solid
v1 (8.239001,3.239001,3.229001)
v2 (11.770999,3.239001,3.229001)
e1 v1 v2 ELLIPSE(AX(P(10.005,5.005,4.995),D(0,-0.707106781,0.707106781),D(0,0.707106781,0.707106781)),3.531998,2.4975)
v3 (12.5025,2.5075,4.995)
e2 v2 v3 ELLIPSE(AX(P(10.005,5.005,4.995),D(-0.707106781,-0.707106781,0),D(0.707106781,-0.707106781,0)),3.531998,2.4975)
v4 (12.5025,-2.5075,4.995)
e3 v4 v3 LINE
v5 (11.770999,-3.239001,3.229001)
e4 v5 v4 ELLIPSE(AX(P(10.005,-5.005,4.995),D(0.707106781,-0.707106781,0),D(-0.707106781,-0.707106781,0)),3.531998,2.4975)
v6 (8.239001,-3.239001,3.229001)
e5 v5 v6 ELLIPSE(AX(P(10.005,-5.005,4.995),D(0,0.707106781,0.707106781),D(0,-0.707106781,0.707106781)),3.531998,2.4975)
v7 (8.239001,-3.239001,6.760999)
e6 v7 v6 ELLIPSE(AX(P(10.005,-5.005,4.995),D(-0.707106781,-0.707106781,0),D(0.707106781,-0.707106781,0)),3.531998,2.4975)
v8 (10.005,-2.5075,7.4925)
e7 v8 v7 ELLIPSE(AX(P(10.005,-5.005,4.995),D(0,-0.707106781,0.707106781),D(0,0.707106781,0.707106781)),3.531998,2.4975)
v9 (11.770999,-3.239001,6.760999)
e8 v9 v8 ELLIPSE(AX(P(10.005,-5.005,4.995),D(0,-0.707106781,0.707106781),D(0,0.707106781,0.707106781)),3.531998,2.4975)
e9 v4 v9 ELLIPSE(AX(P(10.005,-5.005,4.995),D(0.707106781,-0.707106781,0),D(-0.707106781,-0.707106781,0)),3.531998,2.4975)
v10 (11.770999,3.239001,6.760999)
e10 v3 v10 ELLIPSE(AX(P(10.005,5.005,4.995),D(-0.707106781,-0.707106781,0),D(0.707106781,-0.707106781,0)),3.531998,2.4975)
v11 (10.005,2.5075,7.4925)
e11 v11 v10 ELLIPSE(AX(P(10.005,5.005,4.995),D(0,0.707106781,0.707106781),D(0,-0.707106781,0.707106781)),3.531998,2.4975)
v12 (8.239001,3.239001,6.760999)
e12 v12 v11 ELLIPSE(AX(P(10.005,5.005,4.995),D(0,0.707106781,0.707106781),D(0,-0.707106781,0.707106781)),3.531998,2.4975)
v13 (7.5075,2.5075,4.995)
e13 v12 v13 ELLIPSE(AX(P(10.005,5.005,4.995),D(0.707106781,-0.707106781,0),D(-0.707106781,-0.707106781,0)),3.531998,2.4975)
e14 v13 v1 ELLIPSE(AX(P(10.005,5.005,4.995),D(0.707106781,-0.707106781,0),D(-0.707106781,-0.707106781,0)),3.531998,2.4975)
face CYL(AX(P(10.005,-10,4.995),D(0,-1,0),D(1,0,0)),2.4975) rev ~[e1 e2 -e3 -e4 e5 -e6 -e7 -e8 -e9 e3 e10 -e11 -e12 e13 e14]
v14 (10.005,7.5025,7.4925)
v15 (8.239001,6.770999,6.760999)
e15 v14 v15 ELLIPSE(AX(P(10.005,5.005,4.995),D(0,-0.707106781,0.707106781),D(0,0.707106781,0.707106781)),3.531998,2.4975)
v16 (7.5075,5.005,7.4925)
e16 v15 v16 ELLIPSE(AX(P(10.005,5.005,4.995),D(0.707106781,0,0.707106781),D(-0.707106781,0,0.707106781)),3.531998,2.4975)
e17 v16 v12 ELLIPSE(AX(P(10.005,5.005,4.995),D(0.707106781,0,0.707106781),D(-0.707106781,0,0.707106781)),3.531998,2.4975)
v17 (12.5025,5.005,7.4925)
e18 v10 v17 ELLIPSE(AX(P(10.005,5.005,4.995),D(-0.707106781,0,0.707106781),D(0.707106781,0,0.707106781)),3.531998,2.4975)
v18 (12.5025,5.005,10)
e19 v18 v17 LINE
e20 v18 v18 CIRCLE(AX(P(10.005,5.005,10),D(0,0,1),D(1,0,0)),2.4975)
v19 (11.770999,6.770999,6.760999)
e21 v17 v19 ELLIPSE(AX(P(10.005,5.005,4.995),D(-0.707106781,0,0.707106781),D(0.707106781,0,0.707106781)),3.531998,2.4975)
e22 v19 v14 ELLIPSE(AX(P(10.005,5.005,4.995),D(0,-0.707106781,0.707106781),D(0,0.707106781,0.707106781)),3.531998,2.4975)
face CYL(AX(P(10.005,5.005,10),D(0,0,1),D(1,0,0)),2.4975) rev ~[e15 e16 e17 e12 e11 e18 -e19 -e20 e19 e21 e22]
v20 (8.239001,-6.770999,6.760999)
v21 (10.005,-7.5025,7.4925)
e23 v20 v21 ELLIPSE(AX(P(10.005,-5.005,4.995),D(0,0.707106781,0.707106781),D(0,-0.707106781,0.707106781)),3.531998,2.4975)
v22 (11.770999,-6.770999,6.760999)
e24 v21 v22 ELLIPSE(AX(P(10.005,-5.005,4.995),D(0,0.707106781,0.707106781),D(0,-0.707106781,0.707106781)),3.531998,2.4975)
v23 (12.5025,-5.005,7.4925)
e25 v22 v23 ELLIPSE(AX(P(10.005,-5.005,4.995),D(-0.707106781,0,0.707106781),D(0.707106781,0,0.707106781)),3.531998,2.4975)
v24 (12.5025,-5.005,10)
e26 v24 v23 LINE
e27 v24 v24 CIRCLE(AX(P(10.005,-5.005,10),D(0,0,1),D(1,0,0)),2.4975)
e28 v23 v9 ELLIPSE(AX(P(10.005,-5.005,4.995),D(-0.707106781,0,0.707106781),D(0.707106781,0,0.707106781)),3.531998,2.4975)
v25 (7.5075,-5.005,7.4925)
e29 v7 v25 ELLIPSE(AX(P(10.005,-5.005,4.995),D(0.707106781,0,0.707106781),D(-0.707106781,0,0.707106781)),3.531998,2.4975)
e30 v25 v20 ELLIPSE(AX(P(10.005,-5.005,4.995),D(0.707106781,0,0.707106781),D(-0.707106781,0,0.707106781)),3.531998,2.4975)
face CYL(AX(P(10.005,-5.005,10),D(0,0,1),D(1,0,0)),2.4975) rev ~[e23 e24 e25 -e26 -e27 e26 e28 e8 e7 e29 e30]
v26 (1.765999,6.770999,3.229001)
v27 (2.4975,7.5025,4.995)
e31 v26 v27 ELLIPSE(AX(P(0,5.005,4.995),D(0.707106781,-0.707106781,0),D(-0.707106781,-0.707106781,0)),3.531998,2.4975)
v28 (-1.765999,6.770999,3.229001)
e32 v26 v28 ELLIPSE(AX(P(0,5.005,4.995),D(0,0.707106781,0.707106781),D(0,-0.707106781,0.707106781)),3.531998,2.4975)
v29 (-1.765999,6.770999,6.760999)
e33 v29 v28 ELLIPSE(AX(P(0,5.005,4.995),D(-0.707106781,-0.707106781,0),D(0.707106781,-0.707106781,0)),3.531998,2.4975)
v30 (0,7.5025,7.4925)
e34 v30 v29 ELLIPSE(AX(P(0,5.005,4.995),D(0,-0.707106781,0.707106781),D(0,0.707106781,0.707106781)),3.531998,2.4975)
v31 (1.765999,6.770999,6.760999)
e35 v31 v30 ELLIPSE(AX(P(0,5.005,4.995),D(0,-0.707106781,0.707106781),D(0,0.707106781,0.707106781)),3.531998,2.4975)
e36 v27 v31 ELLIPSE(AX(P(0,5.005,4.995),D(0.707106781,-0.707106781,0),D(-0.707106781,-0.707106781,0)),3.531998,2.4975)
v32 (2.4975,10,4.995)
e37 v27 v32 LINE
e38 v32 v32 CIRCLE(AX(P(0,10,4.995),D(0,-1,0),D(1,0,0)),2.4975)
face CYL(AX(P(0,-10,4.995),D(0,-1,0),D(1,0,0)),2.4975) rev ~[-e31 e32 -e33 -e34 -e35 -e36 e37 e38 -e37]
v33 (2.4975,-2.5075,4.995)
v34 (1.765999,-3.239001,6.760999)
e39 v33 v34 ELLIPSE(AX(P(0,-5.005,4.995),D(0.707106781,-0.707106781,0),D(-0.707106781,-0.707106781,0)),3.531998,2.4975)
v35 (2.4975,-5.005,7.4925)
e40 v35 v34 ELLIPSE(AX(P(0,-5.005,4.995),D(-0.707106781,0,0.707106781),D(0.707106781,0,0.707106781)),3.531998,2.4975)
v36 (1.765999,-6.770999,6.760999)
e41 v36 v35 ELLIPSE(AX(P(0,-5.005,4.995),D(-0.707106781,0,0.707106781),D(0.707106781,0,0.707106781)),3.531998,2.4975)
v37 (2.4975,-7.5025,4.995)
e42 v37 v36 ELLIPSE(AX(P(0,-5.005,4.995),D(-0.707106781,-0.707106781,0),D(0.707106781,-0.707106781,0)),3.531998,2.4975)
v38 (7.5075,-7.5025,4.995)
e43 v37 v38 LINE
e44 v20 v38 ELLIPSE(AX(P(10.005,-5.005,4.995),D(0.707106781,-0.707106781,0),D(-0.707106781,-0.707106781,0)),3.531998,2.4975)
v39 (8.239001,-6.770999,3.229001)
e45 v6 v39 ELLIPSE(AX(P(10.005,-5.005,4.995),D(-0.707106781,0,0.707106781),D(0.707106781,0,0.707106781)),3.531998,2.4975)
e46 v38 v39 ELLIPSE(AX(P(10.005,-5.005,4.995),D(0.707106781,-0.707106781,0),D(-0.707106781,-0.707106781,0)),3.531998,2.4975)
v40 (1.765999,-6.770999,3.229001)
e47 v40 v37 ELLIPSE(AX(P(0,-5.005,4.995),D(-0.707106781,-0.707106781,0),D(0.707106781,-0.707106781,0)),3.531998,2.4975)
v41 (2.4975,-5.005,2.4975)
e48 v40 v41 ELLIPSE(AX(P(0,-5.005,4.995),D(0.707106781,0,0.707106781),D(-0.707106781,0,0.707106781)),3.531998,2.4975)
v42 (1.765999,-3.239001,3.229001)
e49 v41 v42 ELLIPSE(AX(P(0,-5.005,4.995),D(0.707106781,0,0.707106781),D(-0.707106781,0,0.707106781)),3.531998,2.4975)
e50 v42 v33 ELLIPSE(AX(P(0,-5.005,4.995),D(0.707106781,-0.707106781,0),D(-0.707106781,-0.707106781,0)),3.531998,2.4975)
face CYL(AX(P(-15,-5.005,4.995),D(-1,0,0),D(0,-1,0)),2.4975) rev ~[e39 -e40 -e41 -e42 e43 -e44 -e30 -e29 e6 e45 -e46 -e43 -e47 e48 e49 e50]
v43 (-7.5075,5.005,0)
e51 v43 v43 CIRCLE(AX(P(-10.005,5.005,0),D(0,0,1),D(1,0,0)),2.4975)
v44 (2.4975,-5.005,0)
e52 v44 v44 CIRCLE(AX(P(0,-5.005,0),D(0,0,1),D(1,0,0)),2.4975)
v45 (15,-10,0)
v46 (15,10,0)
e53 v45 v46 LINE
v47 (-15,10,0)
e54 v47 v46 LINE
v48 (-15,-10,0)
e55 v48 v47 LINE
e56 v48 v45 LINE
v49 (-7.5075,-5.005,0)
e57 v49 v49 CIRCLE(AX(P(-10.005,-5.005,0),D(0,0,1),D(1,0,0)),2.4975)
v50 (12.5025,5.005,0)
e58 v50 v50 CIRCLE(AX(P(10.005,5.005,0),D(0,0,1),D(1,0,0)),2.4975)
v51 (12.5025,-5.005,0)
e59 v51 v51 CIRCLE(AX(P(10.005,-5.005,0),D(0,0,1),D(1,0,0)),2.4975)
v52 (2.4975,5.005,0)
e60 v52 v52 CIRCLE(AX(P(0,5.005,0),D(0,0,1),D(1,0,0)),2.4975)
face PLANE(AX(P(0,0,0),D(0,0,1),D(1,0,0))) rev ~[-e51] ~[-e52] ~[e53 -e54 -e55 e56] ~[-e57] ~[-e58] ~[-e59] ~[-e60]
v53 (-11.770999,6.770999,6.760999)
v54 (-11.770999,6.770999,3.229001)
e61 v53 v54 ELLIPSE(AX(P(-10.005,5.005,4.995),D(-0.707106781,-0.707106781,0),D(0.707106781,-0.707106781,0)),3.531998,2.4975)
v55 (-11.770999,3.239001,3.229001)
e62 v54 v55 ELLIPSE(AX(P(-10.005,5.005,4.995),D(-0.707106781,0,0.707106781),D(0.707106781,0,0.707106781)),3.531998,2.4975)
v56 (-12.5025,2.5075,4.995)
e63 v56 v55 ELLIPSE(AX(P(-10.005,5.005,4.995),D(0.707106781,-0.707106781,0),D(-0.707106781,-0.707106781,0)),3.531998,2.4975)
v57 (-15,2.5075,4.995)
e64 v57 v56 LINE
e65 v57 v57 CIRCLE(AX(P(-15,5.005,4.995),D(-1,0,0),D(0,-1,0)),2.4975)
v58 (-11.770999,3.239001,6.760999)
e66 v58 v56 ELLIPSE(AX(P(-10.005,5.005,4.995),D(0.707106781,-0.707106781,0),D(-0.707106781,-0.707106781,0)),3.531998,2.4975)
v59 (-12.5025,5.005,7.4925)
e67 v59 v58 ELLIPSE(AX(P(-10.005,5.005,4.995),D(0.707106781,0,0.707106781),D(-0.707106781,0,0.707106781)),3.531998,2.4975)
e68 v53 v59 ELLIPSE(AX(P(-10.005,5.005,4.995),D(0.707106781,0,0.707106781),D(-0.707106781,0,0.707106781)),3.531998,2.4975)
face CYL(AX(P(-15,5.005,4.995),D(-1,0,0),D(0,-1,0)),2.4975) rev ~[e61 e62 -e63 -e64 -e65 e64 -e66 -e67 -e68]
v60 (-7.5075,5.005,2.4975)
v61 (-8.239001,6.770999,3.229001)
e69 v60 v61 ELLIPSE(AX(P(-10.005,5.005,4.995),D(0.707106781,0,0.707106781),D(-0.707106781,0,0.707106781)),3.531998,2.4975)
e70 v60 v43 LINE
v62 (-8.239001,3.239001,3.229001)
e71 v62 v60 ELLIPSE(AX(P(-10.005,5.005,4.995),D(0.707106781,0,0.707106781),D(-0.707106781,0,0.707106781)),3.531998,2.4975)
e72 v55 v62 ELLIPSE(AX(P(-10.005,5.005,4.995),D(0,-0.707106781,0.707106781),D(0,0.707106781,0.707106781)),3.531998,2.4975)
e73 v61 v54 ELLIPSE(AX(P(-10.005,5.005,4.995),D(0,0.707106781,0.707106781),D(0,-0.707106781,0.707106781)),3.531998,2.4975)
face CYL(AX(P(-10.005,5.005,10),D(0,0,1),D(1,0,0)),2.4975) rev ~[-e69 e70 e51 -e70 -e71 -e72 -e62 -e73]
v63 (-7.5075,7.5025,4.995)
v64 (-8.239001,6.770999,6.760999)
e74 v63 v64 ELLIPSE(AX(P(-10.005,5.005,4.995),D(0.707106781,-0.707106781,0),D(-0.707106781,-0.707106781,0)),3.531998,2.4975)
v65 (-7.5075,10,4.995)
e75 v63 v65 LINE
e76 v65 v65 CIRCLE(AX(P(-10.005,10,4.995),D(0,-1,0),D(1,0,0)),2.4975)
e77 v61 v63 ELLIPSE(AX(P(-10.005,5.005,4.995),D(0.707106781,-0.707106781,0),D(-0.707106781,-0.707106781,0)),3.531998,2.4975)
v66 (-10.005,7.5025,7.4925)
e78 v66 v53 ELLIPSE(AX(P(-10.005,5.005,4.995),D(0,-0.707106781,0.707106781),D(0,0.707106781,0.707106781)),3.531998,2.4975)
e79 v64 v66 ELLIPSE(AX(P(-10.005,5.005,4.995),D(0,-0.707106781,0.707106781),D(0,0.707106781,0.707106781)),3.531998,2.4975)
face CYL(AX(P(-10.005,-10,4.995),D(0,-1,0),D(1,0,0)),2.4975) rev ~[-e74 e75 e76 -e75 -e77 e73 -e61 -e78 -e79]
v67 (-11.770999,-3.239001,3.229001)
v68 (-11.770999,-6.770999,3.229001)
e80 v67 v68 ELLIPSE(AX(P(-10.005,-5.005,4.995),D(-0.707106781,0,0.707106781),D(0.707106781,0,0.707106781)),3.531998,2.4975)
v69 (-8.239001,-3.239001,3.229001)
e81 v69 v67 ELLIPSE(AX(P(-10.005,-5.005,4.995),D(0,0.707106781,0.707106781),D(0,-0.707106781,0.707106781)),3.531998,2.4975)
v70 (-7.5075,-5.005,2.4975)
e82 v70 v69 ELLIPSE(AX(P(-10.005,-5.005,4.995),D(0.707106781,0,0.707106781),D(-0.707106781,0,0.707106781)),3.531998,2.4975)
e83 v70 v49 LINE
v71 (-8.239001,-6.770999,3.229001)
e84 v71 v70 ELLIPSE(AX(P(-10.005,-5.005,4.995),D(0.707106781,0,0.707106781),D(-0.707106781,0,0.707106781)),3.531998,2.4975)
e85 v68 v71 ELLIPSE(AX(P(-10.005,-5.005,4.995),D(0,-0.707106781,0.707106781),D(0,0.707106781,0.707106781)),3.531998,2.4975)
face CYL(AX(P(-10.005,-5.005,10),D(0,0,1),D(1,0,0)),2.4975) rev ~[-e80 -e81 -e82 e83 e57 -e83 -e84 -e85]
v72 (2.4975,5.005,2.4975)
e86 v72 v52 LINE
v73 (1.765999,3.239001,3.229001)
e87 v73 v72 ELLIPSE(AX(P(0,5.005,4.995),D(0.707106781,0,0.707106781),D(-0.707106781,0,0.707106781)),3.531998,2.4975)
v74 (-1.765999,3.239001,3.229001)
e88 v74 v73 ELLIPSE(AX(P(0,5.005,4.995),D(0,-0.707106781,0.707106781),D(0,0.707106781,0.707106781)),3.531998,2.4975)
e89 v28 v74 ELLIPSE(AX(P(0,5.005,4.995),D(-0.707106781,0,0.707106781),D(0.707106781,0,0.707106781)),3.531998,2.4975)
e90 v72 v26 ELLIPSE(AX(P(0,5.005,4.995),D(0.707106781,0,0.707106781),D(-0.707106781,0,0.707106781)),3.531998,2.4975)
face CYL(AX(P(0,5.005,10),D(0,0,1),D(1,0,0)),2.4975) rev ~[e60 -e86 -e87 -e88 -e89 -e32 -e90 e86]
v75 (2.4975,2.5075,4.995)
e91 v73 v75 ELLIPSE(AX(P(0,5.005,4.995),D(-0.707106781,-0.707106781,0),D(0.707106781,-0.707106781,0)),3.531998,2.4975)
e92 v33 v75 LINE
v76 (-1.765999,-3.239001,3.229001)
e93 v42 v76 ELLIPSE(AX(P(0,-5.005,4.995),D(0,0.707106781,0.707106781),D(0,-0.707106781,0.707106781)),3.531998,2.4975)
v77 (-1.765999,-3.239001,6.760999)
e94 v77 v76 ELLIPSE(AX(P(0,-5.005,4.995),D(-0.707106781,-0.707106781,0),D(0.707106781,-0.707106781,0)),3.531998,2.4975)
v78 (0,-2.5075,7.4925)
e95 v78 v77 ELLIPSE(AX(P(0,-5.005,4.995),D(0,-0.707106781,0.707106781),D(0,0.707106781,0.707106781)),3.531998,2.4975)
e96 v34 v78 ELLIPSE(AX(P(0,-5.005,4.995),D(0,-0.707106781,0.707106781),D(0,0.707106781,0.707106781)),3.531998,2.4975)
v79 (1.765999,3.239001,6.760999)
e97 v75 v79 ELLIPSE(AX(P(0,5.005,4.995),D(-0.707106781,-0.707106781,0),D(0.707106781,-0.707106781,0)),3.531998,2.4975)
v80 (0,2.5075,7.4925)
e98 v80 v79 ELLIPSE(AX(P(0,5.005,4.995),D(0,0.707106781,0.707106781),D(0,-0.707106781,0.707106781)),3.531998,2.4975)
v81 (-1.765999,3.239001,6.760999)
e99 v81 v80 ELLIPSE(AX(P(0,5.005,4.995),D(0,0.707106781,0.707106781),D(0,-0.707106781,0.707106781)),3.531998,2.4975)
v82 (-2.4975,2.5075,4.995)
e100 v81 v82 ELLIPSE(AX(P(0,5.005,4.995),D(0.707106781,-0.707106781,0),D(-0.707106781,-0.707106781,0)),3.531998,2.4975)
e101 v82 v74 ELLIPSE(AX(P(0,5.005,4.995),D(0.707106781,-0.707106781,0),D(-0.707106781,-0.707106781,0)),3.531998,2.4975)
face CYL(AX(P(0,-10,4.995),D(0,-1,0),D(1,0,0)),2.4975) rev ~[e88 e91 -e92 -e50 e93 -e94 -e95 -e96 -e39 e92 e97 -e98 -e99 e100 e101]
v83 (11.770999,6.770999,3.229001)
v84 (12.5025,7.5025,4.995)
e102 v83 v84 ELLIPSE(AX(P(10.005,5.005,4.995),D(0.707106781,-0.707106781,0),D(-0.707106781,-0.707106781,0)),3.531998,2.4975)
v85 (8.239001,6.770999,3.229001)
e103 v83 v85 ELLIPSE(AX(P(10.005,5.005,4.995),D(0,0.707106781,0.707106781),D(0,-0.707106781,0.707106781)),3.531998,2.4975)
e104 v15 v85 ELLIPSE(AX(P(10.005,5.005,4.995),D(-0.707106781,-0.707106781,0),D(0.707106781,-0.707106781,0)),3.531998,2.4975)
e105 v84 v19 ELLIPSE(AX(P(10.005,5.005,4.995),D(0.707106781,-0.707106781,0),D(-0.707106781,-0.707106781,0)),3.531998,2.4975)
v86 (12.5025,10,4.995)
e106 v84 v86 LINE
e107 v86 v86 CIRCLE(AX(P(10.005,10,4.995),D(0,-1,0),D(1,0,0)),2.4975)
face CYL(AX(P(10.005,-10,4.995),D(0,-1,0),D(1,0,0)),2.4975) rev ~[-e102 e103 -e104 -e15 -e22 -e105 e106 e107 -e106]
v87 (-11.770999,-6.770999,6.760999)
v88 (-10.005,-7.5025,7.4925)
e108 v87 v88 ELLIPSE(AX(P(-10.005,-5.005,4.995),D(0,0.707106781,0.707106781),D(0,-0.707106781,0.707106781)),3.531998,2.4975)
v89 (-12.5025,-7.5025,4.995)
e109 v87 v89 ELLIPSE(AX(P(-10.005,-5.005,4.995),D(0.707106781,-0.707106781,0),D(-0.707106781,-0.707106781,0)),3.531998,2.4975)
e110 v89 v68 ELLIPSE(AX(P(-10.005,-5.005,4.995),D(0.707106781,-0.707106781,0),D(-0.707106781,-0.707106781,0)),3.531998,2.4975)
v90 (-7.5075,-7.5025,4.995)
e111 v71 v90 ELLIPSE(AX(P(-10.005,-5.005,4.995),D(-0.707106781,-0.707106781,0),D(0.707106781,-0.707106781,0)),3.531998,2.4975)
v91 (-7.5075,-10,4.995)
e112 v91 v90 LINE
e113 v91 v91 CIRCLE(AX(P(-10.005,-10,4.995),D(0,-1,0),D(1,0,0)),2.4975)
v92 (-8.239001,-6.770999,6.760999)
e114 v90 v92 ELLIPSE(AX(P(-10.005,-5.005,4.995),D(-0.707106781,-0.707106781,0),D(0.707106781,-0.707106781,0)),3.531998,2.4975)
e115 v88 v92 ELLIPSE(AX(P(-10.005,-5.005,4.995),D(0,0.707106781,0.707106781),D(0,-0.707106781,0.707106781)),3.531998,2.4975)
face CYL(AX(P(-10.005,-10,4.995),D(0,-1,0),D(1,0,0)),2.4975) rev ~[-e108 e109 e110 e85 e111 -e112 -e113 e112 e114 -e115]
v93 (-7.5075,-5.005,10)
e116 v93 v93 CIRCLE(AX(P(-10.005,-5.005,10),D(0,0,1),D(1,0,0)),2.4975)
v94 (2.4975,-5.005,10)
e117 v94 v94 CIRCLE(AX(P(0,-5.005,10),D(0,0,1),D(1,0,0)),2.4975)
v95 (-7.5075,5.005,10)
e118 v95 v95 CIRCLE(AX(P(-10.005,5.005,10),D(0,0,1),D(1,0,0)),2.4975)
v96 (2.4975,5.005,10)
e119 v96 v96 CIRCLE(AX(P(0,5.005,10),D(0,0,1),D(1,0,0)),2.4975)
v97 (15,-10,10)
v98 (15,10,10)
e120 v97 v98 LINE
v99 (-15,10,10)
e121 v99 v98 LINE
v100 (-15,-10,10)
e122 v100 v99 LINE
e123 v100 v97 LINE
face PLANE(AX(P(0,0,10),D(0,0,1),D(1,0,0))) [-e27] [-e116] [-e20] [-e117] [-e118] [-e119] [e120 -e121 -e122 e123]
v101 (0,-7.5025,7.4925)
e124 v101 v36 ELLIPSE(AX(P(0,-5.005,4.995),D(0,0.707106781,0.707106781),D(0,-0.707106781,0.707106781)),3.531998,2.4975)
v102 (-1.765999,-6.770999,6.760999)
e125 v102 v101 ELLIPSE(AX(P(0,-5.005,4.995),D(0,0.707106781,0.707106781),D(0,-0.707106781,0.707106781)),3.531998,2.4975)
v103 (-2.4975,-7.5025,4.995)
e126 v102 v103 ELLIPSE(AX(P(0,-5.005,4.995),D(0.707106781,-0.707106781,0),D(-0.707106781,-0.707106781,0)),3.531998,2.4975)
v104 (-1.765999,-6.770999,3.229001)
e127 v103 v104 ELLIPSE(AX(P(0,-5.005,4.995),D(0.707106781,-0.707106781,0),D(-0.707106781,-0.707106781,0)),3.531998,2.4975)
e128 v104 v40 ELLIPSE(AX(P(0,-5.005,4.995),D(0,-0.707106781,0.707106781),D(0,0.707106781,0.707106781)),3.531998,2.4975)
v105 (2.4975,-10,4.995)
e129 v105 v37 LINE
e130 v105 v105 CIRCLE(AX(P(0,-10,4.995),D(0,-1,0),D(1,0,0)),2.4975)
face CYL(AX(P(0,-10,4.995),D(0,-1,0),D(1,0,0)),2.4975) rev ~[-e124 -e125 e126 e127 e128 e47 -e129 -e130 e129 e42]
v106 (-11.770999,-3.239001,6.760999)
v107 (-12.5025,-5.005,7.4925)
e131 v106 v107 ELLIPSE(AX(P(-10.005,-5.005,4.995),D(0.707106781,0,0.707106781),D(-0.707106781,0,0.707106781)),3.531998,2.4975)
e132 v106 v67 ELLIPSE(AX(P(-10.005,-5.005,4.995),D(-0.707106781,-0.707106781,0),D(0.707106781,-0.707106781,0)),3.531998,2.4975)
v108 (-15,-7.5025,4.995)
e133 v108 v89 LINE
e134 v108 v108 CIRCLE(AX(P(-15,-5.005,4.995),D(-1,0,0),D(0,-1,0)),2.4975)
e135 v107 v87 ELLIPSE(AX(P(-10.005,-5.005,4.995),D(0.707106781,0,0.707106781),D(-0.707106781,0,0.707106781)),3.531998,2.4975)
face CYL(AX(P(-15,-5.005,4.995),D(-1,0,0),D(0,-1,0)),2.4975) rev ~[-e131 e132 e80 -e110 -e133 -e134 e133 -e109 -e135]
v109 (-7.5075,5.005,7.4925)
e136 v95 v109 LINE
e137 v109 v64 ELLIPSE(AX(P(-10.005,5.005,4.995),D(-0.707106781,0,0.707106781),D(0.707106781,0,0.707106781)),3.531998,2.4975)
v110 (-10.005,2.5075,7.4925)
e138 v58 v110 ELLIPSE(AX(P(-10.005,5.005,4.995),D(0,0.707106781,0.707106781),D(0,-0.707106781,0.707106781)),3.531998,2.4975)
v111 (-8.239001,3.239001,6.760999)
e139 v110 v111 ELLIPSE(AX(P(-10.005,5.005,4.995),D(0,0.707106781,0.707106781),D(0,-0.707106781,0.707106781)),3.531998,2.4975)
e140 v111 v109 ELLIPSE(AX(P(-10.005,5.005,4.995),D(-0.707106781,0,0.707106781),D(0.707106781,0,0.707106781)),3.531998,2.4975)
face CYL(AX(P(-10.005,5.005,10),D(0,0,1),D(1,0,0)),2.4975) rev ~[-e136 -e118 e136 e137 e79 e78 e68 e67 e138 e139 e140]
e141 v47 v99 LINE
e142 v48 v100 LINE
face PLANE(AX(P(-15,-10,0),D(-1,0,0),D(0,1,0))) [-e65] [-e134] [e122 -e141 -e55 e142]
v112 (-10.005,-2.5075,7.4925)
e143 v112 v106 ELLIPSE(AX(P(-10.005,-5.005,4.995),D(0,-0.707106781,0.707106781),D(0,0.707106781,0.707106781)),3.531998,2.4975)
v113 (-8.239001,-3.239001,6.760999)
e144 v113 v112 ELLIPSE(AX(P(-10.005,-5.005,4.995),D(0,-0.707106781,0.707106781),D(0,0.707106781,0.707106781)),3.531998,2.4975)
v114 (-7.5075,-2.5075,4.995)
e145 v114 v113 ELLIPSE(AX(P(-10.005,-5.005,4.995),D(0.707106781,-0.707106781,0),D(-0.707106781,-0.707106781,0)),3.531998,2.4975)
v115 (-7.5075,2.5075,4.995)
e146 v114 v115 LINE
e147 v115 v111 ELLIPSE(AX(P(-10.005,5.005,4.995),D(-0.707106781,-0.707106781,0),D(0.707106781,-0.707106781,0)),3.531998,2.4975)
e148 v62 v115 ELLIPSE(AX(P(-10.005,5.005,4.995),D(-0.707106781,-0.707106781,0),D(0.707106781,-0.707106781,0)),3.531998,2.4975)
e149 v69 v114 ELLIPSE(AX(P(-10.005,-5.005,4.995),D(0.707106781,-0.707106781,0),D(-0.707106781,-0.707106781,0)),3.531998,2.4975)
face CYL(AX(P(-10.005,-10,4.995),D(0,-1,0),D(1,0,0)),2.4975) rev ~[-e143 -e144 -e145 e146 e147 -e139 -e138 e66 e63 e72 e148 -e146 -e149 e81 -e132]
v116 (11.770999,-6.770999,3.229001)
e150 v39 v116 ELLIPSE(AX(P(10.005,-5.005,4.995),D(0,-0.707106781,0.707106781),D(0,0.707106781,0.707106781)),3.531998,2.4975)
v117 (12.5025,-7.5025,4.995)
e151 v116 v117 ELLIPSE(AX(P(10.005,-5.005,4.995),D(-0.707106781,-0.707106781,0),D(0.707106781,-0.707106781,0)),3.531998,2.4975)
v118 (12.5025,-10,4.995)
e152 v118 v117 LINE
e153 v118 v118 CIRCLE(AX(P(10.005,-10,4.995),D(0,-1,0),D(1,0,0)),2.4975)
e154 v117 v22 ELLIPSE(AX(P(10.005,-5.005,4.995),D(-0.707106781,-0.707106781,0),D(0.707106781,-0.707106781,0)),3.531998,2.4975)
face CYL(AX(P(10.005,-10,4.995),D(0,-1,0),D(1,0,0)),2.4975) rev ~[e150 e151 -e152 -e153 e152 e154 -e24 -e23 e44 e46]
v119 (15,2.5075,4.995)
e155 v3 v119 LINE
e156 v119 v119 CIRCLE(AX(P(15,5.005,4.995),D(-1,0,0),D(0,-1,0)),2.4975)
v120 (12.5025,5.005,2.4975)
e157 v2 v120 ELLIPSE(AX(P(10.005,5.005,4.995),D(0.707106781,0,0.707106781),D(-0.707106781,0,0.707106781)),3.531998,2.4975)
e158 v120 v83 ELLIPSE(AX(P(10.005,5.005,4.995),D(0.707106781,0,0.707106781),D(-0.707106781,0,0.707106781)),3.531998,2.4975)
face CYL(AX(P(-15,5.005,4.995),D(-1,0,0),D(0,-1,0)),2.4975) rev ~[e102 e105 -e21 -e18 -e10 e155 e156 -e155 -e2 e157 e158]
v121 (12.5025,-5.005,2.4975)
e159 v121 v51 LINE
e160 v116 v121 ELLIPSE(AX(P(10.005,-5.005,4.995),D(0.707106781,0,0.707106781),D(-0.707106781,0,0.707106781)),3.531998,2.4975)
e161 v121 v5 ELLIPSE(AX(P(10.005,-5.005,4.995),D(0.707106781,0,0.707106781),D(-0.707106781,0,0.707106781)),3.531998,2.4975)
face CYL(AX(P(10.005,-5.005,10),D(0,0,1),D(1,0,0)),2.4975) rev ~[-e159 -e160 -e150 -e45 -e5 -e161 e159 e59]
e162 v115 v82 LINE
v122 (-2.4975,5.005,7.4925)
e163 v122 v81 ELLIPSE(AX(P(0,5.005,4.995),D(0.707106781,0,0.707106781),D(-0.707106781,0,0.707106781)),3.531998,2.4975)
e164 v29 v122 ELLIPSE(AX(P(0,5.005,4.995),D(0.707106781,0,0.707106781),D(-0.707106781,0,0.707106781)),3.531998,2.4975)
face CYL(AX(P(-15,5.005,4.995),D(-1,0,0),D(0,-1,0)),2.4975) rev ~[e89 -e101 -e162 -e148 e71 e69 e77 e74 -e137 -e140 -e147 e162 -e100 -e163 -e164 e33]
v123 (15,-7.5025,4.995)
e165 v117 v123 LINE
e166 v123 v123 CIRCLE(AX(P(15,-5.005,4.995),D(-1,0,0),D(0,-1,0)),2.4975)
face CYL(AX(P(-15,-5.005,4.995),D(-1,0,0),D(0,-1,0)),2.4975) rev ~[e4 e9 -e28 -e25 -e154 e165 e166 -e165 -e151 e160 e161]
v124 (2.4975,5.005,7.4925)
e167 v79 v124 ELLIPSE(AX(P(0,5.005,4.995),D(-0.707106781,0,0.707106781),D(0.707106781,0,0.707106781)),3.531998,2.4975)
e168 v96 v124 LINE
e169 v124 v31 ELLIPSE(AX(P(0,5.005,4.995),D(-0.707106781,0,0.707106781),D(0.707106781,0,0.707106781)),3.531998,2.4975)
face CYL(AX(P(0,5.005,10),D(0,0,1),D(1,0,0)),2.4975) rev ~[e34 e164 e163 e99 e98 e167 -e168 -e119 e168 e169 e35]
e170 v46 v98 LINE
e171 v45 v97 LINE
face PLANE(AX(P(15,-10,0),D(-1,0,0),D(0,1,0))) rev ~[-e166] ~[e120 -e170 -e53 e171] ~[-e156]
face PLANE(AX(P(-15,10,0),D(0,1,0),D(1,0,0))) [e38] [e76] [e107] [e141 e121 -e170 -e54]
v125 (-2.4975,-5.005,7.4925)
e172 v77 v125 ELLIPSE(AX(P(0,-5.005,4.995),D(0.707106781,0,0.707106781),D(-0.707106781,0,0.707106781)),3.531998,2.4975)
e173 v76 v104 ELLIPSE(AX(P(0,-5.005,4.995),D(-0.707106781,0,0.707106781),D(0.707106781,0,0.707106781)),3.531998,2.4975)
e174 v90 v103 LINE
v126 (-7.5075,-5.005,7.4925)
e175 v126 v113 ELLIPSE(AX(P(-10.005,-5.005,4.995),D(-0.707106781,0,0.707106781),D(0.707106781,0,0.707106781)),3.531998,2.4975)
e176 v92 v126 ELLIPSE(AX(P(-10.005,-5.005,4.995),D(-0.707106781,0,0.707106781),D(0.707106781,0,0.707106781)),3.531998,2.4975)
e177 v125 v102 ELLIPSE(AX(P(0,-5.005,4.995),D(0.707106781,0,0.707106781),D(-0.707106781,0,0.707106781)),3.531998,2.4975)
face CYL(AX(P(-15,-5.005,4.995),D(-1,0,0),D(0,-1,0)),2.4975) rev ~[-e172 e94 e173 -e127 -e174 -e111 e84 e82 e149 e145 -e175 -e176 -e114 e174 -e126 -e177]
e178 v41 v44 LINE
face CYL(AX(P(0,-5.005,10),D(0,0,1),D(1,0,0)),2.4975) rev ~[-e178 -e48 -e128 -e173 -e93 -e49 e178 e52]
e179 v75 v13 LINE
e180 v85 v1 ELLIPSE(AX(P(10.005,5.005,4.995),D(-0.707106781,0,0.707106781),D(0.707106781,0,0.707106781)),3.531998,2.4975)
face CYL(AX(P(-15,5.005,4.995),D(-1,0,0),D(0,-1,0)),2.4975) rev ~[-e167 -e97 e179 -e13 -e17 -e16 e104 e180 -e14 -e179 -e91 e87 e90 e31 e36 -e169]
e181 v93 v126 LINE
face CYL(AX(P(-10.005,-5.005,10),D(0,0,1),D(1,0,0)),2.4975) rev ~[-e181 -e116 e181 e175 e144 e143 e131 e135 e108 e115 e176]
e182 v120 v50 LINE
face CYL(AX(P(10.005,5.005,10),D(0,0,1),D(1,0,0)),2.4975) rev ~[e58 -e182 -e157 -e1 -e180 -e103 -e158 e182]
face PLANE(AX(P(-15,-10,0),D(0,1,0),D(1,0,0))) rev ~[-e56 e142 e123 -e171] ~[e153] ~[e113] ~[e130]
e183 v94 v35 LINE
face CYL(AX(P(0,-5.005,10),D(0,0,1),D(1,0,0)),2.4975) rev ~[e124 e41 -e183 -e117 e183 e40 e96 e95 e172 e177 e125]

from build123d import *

# Parameters (mm, degrees)
SKETCH_W                           = 30
SKETCH_H                           = 20
PAD_DEPTH                          = 10
SKETCH001_R                        = 2.4975
POCKET_DEPTH                       = 10
SKETCH001_LINEARPATTERN_2_R        = 2.4975
POCKET_LINEARPATTERN_2_DEPTH       = 10
SKETCH001_LINEARPATTERN_3_R        = 2.4975
POCKET_LINEARPATTERN_3_DEPTH       = 10
LINEARPATTERN001_COUNT             = 2
LINEARPATTERN001_PITCH             = 10.01
SKETCH002_R                        = 2.4975
POCKET001_DEPTH                    = 20
SKETCH002_LINEARPATTERN002_2_R     = 2.4975
POCKET001_LINEARPATTERN002_2_DEPTH = 20
SKETCH002_LINEARPATTERN002_3_R     = 2.4975
POCKET001_LINEARPATTERN002_3_DEPTH = 20
LINEARPATTERN003_COUNT             = 1
LINEARPATTERN003_PITCH             = 0
SKETCH003_R                        = 2.4975
POCKET002_DEPTH                    = 30
SKETCH003_LINEARPATTERN004_2_R     = 2.4975
POCKET002_LINEARPATTERN004_2_DEPTH = 30
LINEARPATTERN005_COUNT             = 1
LINEARPATTERN005_PITCH             = 0


with BuildPart() as part:
    # Sketch → Pad (new body)
    with BuildSketch(Plane.XY):
        Rectangle(SKETCH_W, SKETCH_H)
    extrude(amount=PAD_DEPTH)

    # Sketch001 (on Face6 of Pad) → Pocket (cut)
    with BuildSketch(Plane.XY.offset(10)):
        with Locations((-10.005, -5.005)):
            Circle(SKETCH001_R)
    pocket = extrude(amount=-POCKET_DEPTH, mode=Mode.SUBTRACT)

    # Sketch001 LinearPattern 2 → Pocket LinearPattern 2 (cut)
    with BuildSketch(Plane(origin=(10.005, 0, 10), x_dir=(1, 0, 0), z_dir=(0, 0, 1))):
        with Locations((-10.005, -5.005)):
            Circle(SKETCH001_LINEARPATTERN_2_R)
    pocket_linearpattern_2 = extrude(amount=-POCKET_LINEARPATTERN_2_DEPTH, mode=Mode.SUBTRACT)

    # Sketch001 LinearPattern 3 → Pocket LinearPattern 3 (cut)
    with BuildSketch(Plane(origin=(20.01, 0, 10), x_dir=(1, 0, 0), z_dir=(0, 0, 1))):
        with Locations((-10.005, -5.005)):
            Circle(SKETCH001_LINEARPATTERN_3_R)
    pocket_linearpattern_3 = extrude(amount=-POCKET_LINEARPATTERN_3_DEPTH, mode=Mode.SUBTRACT)

    # LinearPattern001: Pocket, Pocket LinearPattern 2, Pocket LinearPattern 3 ×2
    with Locations(*[(0, i * LINEARPATTERN001_PITCH, 0) for i in range(1, LINEARPATTERN001_COUNT)]):
        add(pocket, mode=Mode.SUBTRACT)
        add(pocket_linearpattern_2, mode=Mode.SUBTRACT)
        add(pocket_linearpattern_3, mode=Mode.SUBTRACT)

    # Sketch002 (on Face6 of MultiTransform) → Pocket001 (cut)
    with BuildSketch(Plane.XZ.offset(10)):
        with Locations((-10.005, 4.995)):
            Circle(SKETCH002_R)
    pocket001 = extrude(amount=-POCKET001_DEPTH, mode=Mode.SUBTRACT)

    # Sketch002 LinearPattern002 2 → Pocket001 LinearPattern002 2 (cut)
    with BuildSketch(Plane(origin=(10.005, -10, 0), x_dir=(1, 0, 0), z_dir=(0, -1, 0))):
        with Locations((-10.005, 4.995)):
            Circle(SKETCH002_LINEARPATTERN002_2_R)
    pocket001_linearpattern002_2 = extrude(amount=-POCKET001_LINEARPATTERN002_2_DEPTH, mode=Mode.SUBTRACT)

    # Sketch002 LinearPattern002 3 → Pocket001 LinearPattern002 3 (cut)
    with BuildSketch(Plane(origin=(20.01, -10, 0), x_dir=(1, 0, 0), z_dir=(0, -1, 0))):
        with Locations((-10.005, 4.995)):
            Circle(SKETCH002_LINEARPATTERN002_3_R)
    pocket001_linearpattern002_3 = extrude(amount=-POCKET001_LINEARPATTERN002_3_DEPTH, mode=Mode.SUBTRACT)

    # LinearPattern003: Pocket001, Pocket001 LinearPattern002 2, Pocket001 LinearPattern002 3 ×1
    with Locations(*[(0, 0, i * LINEARPATTERN003_PITCH) for i in range(1, LINEARPATTERN003_COUNT)]):
        add(pocket001, mode=Mode.SUBTRACT)
        add(pocket001_linearpattern002_2, mode=Mode.SUBTRACT)
        add(pocket001_linearpattern002_3, mode=Mode.SUBTRACT)

    # Sketch003 (on Face2 of MultiTransform001) → Pocket002 (cut)
    with BuildSketch(Plane(origin=(-15, 0, 0), x_dir=(0, -1, 0), z_dir=(-1, 0, 0))):
        with Locations((-5.005, 4.995)):
            Circle(SKETCH003_R)
    pocket002 = extrude(amount=-POCKET002_DEPTH, mode=Mode.SUBTRACT)

    # Sketch003 LinearPattern004 2 → Pocket002 LinearPattern004 2 (cut)
    with BuildSketch(Plane(origin=(-15, -10.01, 0), x_dir=(0, -1, 0), z_dir=(-1, 0, 0))):
        with Locations((-5.005, 4.995)):
            Circle(SKETCH003_LINEARPATTERN004_2_R)
    pocket002_linearpattern004_2 = extrude(amount=-POCKET002_LINEARPATTERN004_2_DEPTH, mode=Mode.SUBTRACT)

    # LinearPattern005: Pocket002, Pocket002 LinearPattern004 2 ×1
    with Locations(*[(0, 0, i * LINEARPATTERN005_PITCH) for i in range(1, LINEARPATTERN005_COUNT)]):
        add(pocket002, mode=Mode.SUBTRACT)
        add(pocket002_linearpattern004_2, mode=Mode.SUBTRACT)


solid = part.part
